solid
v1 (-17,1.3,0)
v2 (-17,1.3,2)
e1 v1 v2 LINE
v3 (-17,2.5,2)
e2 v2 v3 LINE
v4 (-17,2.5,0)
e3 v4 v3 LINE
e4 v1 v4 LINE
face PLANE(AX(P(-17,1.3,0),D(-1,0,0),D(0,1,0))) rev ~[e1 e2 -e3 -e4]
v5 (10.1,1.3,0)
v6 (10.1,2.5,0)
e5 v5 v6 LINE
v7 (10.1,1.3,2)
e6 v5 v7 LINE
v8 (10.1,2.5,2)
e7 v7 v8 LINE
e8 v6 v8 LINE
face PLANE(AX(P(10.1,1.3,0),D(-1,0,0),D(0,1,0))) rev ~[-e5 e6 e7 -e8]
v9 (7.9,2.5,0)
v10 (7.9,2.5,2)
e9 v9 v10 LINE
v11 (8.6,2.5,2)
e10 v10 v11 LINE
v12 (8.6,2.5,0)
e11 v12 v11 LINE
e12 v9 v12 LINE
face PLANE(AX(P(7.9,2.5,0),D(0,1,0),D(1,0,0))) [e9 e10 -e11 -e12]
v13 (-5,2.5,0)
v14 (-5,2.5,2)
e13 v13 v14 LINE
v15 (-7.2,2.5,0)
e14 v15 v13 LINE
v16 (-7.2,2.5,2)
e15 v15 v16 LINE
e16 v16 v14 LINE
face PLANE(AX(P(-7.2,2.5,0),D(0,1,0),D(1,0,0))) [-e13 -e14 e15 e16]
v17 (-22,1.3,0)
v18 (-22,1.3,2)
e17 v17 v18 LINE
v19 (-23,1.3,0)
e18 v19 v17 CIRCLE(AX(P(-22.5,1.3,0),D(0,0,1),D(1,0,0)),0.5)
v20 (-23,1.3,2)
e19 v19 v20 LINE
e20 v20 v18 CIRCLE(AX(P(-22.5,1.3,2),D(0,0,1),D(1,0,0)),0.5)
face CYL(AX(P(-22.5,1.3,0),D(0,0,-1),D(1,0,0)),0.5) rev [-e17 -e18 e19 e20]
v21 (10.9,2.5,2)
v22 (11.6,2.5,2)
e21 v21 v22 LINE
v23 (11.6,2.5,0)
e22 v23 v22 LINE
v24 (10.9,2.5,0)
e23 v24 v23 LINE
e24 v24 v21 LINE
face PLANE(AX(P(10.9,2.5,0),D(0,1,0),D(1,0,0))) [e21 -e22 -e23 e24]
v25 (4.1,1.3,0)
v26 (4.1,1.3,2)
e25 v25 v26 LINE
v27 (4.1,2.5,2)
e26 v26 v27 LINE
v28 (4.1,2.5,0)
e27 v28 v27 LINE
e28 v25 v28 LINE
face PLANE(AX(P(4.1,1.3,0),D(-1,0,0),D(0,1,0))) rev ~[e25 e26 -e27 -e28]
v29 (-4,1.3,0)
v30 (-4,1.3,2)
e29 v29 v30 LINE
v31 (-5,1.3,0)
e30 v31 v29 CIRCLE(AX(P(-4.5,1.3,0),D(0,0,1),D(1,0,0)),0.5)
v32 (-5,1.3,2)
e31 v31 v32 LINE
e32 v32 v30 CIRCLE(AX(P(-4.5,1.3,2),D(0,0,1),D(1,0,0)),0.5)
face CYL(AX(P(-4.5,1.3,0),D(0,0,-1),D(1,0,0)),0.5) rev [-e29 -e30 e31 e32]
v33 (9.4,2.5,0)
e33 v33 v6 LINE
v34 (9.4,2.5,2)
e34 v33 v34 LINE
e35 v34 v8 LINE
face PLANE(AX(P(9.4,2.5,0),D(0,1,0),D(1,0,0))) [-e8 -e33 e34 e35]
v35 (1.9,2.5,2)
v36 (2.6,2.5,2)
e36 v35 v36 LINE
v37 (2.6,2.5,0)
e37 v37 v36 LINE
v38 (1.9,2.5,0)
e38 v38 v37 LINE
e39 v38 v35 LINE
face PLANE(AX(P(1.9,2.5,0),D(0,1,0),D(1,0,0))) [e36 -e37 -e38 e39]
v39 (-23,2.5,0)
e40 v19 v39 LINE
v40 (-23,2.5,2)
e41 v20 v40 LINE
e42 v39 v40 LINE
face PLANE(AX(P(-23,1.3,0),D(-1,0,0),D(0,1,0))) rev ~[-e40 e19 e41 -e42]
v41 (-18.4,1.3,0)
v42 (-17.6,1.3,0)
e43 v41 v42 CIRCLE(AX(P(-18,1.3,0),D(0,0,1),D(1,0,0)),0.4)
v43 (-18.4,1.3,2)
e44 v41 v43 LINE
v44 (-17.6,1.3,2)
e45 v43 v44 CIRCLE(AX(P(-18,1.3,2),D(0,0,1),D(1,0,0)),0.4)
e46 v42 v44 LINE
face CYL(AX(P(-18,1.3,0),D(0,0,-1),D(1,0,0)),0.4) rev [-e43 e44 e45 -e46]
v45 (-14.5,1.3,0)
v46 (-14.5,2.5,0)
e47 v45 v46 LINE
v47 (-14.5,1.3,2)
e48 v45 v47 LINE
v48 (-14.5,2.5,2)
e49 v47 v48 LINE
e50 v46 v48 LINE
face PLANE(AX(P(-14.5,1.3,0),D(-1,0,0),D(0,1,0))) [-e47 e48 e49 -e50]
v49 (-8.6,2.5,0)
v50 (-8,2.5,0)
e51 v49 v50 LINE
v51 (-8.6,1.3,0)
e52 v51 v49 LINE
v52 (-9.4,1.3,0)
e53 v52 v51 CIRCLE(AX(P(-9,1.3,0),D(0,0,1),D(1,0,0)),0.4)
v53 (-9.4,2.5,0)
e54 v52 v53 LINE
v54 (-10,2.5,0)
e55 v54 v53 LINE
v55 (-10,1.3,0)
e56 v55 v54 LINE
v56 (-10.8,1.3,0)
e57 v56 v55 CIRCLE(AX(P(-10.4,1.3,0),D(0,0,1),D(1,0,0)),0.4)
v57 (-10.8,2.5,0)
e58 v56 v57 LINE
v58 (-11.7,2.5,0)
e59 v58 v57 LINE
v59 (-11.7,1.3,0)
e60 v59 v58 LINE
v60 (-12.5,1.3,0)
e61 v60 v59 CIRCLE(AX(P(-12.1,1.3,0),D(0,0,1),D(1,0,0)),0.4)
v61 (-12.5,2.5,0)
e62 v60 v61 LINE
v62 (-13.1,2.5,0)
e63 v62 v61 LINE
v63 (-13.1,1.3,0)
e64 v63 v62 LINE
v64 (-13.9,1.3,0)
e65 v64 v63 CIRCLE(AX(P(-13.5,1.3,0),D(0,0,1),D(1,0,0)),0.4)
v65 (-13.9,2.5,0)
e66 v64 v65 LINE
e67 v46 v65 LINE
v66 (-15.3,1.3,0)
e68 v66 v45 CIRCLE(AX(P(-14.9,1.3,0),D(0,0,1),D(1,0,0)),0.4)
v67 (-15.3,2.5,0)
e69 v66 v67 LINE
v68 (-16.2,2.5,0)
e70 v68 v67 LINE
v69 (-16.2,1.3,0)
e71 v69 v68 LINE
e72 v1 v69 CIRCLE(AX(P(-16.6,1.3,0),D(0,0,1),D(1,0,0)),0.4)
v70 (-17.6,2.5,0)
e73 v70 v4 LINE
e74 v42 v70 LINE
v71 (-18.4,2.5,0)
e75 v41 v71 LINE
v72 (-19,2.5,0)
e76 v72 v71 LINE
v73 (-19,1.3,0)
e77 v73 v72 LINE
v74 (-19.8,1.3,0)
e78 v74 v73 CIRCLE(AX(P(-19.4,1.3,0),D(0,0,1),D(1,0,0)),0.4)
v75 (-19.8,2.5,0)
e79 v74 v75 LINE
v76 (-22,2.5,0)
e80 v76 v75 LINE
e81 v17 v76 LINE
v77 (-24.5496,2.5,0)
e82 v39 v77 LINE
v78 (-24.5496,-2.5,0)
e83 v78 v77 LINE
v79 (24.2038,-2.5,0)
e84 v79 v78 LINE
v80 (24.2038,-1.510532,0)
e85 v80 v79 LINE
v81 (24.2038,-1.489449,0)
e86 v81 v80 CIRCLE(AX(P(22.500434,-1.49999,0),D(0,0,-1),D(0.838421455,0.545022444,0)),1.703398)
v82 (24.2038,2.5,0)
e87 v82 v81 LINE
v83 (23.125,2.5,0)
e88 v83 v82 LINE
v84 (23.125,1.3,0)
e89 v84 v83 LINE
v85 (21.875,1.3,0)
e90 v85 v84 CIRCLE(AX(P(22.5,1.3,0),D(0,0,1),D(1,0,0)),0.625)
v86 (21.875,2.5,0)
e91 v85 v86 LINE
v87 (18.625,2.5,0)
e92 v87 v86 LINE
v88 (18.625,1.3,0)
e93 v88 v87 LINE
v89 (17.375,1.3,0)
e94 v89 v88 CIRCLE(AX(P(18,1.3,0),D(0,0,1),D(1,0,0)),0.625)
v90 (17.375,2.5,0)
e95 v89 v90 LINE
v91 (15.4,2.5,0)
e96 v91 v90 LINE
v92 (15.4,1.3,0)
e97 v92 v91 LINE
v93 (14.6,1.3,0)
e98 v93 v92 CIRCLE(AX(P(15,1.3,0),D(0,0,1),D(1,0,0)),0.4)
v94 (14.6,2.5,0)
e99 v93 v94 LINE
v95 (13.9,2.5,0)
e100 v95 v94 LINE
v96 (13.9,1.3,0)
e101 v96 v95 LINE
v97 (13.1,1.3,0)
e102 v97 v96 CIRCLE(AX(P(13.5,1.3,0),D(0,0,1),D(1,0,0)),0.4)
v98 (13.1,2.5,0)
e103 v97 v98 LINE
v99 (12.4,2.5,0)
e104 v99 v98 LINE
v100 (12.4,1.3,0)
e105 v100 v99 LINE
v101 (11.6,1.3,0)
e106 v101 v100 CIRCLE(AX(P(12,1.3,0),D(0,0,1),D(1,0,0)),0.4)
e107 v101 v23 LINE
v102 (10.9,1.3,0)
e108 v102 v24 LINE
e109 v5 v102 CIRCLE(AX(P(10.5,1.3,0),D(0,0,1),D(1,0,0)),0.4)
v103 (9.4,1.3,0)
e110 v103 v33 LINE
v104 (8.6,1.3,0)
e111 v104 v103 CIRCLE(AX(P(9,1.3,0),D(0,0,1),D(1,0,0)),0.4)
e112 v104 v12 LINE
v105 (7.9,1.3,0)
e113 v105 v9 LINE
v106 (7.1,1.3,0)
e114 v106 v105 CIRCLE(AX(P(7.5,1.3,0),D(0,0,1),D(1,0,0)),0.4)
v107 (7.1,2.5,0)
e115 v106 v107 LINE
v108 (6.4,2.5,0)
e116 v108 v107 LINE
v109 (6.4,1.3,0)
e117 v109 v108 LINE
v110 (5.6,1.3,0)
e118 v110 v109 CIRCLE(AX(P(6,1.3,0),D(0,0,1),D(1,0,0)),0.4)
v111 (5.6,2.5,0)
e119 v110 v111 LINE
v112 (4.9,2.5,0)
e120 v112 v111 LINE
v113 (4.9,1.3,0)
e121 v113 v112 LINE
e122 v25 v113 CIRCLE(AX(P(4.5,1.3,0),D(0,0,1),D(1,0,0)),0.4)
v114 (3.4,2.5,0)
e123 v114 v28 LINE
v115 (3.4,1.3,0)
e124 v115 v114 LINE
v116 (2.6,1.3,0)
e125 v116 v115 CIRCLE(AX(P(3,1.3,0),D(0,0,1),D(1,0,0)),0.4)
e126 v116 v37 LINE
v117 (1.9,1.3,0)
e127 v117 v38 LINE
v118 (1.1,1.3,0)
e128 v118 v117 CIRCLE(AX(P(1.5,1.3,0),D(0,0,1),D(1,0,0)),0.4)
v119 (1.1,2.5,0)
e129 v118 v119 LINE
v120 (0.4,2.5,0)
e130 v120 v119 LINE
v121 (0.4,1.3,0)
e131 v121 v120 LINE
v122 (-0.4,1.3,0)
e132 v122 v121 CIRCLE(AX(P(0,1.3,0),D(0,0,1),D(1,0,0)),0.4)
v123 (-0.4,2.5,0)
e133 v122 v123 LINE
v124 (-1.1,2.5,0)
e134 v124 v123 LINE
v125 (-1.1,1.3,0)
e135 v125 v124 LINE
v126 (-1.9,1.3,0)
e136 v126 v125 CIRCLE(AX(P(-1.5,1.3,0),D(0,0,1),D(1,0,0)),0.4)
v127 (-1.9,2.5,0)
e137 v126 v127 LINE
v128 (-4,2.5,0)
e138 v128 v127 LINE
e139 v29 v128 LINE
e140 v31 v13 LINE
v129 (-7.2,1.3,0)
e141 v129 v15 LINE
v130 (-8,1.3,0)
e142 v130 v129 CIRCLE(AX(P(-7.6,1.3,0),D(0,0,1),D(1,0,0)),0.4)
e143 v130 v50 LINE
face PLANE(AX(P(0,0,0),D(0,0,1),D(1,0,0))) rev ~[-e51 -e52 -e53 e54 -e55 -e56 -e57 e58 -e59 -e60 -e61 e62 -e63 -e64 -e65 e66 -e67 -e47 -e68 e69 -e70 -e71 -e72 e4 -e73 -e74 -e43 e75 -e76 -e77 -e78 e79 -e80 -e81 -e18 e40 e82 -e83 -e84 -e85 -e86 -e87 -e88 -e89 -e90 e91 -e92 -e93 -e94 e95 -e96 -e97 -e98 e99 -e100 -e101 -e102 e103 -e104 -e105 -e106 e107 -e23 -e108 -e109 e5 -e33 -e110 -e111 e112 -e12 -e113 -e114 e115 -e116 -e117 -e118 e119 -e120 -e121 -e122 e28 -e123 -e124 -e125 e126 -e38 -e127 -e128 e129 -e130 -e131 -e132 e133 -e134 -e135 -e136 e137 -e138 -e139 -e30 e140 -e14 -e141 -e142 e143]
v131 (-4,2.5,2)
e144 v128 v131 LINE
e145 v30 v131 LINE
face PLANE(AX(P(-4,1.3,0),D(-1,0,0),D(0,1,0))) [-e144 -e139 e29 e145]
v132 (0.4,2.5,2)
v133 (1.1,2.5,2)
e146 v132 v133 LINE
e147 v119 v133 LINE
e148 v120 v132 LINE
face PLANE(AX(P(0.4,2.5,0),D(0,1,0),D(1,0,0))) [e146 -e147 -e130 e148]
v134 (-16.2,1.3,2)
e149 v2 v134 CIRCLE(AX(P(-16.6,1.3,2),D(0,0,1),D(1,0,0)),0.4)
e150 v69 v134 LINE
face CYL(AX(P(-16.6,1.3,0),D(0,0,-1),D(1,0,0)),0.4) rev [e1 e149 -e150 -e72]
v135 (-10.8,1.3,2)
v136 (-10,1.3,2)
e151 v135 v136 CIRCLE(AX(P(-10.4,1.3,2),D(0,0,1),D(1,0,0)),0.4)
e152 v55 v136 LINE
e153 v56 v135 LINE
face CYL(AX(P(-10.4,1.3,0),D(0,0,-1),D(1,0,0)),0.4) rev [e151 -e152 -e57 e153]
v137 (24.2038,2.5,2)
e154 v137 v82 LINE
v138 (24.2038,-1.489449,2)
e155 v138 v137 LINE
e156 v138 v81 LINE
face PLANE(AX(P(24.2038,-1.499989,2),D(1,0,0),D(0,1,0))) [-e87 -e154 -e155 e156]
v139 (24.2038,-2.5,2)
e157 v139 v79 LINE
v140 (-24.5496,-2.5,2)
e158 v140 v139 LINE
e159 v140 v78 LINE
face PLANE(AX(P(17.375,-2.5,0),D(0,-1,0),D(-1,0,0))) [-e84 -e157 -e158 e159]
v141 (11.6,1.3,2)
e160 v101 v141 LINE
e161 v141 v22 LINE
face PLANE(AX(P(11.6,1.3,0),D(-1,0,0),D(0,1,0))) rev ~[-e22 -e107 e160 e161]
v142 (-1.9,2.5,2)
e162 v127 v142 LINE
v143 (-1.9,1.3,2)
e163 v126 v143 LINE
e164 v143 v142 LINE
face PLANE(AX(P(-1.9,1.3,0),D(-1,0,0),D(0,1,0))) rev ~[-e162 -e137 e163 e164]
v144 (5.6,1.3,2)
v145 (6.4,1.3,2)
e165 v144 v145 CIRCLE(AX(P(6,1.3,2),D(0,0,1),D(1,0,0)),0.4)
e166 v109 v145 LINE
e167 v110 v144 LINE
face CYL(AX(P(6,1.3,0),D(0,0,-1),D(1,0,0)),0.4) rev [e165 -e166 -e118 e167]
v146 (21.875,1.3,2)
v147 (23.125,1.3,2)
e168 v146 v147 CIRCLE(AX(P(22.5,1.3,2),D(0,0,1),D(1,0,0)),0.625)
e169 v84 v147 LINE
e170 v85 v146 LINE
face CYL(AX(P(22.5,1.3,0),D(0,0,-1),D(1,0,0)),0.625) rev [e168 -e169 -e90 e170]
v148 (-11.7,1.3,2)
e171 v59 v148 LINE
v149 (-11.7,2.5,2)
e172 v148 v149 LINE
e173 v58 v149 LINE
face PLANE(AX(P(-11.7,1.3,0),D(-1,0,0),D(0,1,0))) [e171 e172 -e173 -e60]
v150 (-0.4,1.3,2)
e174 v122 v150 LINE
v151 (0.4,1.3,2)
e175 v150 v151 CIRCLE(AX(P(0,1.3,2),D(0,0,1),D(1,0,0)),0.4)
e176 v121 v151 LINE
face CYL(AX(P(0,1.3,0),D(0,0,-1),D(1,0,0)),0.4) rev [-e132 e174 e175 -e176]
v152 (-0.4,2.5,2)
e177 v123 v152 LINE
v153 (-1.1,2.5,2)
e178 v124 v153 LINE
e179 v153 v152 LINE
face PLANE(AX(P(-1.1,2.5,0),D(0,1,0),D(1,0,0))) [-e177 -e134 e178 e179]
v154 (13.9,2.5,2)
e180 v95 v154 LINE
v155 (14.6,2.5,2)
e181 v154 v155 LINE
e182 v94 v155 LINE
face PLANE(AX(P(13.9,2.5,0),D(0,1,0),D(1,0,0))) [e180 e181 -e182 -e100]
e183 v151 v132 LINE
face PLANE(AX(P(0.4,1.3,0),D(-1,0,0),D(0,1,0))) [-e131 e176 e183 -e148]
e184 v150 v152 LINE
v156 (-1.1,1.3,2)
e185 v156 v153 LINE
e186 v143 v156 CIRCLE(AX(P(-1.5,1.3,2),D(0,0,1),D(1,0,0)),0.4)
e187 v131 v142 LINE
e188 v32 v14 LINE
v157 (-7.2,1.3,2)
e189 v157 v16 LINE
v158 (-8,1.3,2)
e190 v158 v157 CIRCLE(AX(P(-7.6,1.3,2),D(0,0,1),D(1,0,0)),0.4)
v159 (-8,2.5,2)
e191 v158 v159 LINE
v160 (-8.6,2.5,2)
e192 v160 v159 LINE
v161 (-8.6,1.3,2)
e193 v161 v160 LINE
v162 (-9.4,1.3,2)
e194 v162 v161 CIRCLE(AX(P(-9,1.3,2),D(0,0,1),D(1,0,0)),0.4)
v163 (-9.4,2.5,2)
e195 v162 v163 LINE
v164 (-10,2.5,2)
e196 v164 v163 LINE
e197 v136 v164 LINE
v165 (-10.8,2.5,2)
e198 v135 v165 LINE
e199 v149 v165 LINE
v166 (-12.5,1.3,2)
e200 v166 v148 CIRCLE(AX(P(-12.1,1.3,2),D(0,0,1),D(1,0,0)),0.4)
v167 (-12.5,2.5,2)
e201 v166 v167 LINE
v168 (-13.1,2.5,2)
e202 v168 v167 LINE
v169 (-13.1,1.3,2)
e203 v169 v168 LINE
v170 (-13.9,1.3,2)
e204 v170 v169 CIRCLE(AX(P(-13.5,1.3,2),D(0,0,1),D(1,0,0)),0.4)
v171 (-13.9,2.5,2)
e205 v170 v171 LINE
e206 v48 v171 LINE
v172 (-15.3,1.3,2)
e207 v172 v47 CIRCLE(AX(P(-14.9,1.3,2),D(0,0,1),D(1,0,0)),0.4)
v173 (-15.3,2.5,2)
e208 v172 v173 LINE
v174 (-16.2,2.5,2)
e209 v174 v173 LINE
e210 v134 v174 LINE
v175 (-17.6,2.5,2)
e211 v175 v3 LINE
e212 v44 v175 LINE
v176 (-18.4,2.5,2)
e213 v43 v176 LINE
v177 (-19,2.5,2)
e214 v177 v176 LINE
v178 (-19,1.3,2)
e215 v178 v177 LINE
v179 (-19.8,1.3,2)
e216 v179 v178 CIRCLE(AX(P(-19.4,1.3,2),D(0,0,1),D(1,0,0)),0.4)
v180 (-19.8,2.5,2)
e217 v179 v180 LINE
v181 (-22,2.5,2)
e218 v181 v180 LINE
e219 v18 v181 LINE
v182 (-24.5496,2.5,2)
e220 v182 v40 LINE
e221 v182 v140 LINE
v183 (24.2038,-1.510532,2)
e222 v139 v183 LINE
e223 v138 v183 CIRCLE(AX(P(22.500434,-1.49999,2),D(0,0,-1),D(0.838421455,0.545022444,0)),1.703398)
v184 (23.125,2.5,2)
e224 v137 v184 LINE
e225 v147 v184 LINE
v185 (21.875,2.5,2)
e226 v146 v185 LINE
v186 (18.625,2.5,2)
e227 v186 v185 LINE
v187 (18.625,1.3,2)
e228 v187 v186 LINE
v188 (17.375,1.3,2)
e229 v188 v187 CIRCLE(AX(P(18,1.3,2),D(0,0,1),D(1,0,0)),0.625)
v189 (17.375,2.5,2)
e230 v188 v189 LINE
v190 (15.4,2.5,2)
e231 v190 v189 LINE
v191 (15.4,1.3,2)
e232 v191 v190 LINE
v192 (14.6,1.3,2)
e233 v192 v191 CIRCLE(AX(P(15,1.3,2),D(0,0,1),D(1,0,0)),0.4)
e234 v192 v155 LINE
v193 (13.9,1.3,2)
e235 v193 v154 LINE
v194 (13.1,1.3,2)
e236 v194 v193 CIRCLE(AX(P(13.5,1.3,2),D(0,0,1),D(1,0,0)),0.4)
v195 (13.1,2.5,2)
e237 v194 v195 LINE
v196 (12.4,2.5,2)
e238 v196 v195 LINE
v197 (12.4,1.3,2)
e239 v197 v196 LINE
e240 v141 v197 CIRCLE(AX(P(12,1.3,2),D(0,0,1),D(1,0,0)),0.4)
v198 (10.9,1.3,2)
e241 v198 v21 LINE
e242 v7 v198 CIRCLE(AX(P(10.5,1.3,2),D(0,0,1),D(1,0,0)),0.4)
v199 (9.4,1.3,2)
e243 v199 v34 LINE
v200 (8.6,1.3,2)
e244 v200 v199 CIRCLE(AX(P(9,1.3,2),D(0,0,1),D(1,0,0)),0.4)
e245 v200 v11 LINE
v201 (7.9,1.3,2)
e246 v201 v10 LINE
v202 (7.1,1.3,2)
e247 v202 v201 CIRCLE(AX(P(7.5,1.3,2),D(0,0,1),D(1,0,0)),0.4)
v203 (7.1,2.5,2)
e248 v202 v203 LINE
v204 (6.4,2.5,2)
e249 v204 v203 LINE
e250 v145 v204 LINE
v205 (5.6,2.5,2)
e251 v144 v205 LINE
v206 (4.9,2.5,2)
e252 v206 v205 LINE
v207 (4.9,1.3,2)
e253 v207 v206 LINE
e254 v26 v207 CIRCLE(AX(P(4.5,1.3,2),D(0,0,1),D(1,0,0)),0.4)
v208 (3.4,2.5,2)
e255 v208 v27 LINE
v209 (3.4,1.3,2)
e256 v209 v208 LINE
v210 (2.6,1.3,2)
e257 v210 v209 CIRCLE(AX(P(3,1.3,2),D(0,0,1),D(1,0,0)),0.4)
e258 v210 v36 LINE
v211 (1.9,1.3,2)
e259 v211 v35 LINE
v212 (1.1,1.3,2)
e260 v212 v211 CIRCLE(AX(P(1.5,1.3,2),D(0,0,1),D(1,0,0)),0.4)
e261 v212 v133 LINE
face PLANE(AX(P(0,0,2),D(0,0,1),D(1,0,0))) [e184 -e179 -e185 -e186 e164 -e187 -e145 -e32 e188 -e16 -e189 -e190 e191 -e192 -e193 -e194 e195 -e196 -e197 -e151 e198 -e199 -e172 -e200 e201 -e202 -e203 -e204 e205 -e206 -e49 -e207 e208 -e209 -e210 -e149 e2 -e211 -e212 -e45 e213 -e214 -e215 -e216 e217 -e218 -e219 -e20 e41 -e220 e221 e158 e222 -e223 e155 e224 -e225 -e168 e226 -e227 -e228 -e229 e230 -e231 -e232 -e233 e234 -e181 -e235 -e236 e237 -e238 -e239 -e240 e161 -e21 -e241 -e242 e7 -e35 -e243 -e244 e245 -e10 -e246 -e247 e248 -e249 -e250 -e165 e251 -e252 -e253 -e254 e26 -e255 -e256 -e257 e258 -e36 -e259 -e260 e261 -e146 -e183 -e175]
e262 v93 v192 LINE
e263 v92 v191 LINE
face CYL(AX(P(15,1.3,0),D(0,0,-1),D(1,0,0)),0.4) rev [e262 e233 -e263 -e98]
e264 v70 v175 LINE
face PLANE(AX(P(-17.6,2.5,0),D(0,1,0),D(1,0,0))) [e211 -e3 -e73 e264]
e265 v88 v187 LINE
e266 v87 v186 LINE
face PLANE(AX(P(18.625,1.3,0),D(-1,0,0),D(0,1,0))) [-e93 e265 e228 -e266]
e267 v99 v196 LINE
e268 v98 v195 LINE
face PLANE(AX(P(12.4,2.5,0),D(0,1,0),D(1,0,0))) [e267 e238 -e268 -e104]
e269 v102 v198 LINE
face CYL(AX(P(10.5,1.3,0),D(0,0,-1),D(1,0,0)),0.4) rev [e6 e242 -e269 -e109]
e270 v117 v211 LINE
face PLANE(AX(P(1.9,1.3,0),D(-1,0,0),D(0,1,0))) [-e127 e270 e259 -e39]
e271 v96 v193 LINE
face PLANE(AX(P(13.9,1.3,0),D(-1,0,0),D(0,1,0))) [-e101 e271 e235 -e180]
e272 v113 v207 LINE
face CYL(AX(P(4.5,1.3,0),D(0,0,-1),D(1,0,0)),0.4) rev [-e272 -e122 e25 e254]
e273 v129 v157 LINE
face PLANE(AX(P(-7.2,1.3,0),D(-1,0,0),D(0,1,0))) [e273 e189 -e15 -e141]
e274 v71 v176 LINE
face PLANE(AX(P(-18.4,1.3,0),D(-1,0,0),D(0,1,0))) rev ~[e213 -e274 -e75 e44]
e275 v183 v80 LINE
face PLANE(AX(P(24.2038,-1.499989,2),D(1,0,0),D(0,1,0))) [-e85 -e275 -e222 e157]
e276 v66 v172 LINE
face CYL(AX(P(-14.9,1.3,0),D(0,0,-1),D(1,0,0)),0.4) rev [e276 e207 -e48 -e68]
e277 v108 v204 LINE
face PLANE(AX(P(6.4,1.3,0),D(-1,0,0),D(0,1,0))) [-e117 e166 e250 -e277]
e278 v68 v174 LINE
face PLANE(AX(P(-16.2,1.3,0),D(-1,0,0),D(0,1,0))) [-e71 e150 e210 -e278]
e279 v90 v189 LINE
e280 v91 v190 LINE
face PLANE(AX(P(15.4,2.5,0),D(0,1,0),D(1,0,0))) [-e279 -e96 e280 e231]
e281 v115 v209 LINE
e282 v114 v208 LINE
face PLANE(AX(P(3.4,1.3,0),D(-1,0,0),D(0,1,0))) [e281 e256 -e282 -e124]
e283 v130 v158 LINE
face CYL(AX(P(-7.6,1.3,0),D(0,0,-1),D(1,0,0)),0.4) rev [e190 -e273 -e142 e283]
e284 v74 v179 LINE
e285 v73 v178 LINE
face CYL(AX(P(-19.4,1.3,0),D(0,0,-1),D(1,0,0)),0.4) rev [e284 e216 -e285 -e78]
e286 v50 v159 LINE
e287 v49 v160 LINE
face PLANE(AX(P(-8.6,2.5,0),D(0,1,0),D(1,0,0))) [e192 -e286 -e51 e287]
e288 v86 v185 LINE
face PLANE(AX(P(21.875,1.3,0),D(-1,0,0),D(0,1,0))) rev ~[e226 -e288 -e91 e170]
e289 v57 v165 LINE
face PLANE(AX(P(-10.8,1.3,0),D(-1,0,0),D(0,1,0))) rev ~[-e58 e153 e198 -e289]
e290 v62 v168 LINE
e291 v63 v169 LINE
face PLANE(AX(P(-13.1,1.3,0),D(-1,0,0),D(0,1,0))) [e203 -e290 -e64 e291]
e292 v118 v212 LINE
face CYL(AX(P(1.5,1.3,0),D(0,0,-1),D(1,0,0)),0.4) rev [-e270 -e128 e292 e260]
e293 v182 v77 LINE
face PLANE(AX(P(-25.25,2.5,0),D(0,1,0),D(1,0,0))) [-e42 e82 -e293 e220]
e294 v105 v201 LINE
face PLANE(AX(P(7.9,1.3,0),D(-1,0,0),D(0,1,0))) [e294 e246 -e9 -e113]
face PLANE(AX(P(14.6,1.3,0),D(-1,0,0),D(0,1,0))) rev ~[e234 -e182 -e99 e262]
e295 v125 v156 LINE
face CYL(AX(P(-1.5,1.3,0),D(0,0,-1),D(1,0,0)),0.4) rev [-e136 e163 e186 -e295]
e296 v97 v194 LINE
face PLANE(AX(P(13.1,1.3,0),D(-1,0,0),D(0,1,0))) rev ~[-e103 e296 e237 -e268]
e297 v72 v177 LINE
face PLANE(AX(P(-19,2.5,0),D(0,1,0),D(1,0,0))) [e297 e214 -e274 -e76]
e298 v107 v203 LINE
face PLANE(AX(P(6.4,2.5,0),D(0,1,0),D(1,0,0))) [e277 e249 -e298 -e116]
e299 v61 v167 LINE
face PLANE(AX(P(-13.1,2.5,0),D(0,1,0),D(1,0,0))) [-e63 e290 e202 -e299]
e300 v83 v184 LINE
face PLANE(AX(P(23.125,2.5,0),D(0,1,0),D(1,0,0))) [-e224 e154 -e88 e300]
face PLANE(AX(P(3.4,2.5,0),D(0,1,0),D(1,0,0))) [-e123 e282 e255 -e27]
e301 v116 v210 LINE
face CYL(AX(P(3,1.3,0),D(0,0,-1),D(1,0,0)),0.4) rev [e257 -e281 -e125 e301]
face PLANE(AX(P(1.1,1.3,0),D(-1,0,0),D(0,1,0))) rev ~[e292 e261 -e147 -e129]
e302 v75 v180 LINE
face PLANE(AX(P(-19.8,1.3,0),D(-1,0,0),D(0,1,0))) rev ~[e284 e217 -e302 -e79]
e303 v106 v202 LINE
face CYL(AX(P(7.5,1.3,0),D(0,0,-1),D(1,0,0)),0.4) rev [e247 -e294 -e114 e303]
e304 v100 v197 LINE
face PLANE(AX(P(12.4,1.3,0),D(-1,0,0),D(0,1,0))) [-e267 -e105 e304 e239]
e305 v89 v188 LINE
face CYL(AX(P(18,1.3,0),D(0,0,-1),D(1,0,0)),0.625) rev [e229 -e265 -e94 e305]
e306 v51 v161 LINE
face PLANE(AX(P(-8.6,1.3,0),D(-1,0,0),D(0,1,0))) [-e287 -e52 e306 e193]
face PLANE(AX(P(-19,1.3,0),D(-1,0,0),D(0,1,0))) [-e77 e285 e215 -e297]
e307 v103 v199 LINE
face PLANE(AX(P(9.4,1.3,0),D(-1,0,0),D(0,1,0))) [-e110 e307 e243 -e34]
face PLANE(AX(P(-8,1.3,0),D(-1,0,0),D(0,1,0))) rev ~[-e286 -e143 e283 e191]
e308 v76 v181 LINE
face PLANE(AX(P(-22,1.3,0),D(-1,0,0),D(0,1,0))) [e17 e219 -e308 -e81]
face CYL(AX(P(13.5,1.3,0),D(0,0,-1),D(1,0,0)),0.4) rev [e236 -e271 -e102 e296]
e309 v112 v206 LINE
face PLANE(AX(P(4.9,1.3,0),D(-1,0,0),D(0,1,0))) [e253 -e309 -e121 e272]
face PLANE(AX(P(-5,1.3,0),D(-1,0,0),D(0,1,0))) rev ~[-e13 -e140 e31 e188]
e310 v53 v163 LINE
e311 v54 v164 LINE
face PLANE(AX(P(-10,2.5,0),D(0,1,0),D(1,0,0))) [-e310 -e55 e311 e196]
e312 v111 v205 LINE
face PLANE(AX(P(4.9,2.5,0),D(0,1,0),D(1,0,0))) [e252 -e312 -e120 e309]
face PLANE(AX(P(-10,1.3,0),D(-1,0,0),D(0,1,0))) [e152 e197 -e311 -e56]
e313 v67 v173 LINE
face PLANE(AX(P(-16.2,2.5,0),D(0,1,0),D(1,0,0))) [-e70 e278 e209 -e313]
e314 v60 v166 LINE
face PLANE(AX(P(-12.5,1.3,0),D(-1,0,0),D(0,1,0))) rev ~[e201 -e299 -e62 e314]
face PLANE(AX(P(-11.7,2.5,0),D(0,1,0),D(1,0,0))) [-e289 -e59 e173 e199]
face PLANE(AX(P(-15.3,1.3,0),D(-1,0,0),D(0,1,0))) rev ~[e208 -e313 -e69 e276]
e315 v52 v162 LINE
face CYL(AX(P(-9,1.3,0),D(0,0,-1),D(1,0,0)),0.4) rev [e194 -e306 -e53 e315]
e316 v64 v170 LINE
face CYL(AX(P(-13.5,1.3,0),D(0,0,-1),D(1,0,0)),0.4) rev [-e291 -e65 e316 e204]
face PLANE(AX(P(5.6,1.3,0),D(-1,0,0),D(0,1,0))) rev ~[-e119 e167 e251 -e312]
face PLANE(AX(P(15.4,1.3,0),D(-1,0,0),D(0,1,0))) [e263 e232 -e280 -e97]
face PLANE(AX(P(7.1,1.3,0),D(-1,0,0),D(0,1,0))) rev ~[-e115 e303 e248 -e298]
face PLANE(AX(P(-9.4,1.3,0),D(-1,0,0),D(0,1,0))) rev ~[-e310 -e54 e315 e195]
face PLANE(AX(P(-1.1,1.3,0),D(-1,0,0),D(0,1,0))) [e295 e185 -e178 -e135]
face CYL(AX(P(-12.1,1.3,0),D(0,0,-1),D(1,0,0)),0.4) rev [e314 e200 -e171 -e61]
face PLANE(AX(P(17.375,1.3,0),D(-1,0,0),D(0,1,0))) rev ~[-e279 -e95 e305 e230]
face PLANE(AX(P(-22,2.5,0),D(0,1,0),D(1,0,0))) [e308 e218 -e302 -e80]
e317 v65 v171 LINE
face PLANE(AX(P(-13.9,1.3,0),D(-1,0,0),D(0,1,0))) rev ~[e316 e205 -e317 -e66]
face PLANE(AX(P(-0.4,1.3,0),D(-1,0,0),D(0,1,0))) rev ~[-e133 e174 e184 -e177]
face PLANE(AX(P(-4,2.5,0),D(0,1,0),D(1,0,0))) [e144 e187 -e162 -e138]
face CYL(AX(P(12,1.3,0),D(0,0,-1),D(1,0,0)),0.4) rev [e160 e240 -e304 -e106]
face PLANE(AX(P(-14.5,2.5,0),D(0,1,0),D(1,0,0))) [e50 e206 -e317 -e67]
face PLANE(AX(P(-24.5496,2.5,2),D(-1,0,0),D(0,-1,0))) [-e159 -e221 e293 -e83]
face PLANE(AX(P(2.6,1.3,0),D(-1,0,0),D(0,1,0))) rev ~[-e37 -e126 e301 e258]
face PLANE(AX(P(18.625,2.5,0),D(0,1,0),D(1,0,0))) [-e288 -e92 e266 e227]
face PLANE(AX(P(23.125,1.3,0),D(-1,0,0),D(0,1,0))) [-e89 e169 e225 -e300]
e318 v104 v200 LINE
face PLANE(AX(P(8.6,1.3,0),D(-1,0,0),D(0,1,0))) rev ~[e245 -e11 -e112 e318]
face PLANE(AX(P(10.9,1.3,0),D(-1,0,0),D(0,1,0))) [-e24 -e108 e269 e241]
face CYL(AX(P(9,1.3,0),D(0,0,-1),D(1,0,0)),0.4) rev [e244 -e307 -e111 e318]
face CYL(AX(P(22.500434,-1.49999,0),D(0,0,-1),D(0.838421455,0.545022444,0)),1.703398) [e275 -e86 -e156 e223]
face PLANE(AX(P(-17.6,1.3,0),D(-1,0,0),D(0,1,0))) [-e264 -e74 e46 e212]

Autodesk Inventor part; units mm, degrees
ref_plane "YZ Plane" through (0, 0, 0) normal (1, 0, 0) x (0, 1, 0)
ref_plane "XZ Plane" through (0, 0, 0) normal (0, 1, 0) x (-1, 0, 0)
sketch "Sketch1" plane through (0, 0, 0) normal (0, 0, 1) x (1, 0, 0)
  line L0 (-25.25, 2.5) -> (25.25, 2.5)
  line L1 (25.25, 2.5) -> (25.25, -2.5)
  line L2 (25.25, -2.5) -> (-25.25, -2.5)
  line L3 (-25.25, -2.5) -> (-25.25, 2.5)
  circle A0 centre (-22.5, 1.3) radius 0.5
  circle A1 centre (-19.4, 1.3) radius 0.4
  circle A2 centre (-10.4, 1.3) radius 0.4
  circle A3 centre (-18, 1.3) radius 0.4
  circle A4 centre (-13.5, 1.3) radius 0.4
  circle A5 centre (-16.6, 1.3) radius 0.4
  circle A6 centre (-14.9, 1.3) radius 0.4
  circle A7 centre (-12.1, 1.3) radius 0.4
  circle A8 centre (-7.6, 1.3) radius 0.4
  circle A9 centre (-9, 1.3) radius 0.4
  line L4 (0, 0) -> (0, 2.997) construction
  line L5 (0, 0) -> (1.9732, 0) construction
  circle A10 centre (-4.5, 1.3) radius 0.5
  circle A11 centre (-1.5, 1.3) radius 0.4
  circle A12 centre (0, 1.3) radius 0.4
  circle A13 centre (1.5, 1.3) radius 0.4
  circle A14 centre (3, 1.3) radius 0.4
  circle A15 centre (4.5, 1.3) radius 0.4
  circle A16 centre (6, 1.3) radius 0.4
  circle A17 centre (7.5, 1.3) radius 0.4
  circle A18 centre (9, 1.3) radius 0.4
  circle A19 centre (10.5, 1.3) radius 0.4
  circle A20 centre (12, 1.3) radius 0.4
  circle A21 centre (13.5, 1.3) radius 0.4
  circle A22 centre (15, 1.3) radius 0.4
  circle A23 centre (18, 1.3) radius 0.625
  circle A24 centre (22.5, 1.3) radius 0.625
  line L6 (-22, 1.3) -> (-22, 2.5)
  line L7 (-23, 1.3) -> (-23, 2.5)
  line L8 (-19, 1.3) -> (-19, 2.5)
  line L9 (-19.8, 1.3) -> (-19.8, 2.5)
  line L10 (-17.6, 1.3) -> (-17.6, 2.5)
  line L11 (-18.4, 1.3) -> (-18.4, 2.5)
  line L12 (-16.2, 1.3) -> (-16.2, 2.5)
  line L13 (-17, 1.3) -> (-17, 2.5)
  line L14 (-14.5, 1.3) -> (-14.5, 2.5)
  line L15 (-15.3, 1.3) -> (-15.3, 2.5)
  line L16 (-13.1, 1.3) -> (-13.1, 2.5)
  line L17 (-13.9, 1.3) -> (-13.9, 2.5)
  line L18 (-11.7, 1.3) -> (-11.7, 2.5)
  line L19 (-12.5, 1.3) -> (-12.5, 2.5)
  line L20 (-10, 1.3) -> (-10, 2.5)
  line L21 (-10.8, 1.3) -> (-10.8, 2.5)
  line L22 (-8.6, 1.3) -> (-8.6, 2.5)
  line L23 (-9.4, 1.3) -> (-9.4, 2.5)
  line L24 (-7.2, 1.3) -> (-7.2, 2.5)
  line L25 (-8, 1.3) -> (-8, 2.5)
  line L26 (-4, 1.3) -> (-4, 2.5)
  line L27 (-5, 1.3) -> (-5, 2.5)
  line L28 (-1.1, 1.3) -> (-1.1, 2.5)
  line L29 (-1.9, 1.3) -> (-1.9, 2.5)
  line L30 (0.4, 1.3) -> (0.4, 2.5)
  line L31 (-0.4, 1.3) -> (-0.4, 2.5)
  line L32 (1.9, 1.3) -> (1.9, 2.5)
  line L33 (1.1, 1.3) -> (1.1, 2.5)
  line L34 (2.6, 1.3) -> (2.6, 2.5)
  line L35 (3.4, 1.3) -> (3.4, 2.5)
  line L36 (4.1, 1.3) -> (4.1, 2.5)
  line L37 (4.9, 1.3) -> (4.9, 2.5)
  line L38 (5.6, 1.3) -> (5.6, 2.5)
  line L39 (6.4, 1.3) -> (6.4, 2.5)
  line L40 (7.1, 1.3) -> (7.1, 2.5)
  line L41 (7.9, 1.3) -> (7.9, 2.5)
  line L42 (8.6, 1.3) -> (8.6, 2.5)
  line L43 (9.4, 1.3) -> (9.4, 2.5)
  line L44 (10.1, 1.3) -> (10.1, 2.5)
  line L45 (10.9, 1.3) -> (10.9, 2.5)
  line L46 (11.6, 1.3) -> (11.6, 2.5)
  line L47 (12.4, 1.3) -> (12.4, 2.5)
  line L48 (13.1, 1.3) -> (13.1, 2.5)
  line L49 (13.9, 1.3) -> (13.9, 2.5)
  line L50 (14.6, 1.3) -> (14.6, 2.5)
  line L51 (15.4, 1.3) -> (15.4, 2.5)
  line L52 (17.375, 1.3) -> (17.375, 2.5)
  line L53 (18.625, 1.3) -> (18.625, 2.5)
  line L54 (23.125, 1.3) -> (23.125, 2.5)
  line L55 (21.875, 1.3) -> (21.875, 2.5)
  circle A25 centre (22.5, -1.3) radius 0.625
  circle A26 centre (18, -1.3) radius 0.625
  circle A27 centre (15, -1.3) radius 0.4
  circle A28 centre (13.5, -1.3) radius 0.4
  circle A29 centre (12, -1.3) radius 0.4
  circle A30 centre (10.5, -1.3) radius 0.4
  circle A31 centre (9, -1.3) radius 0.4
  circle A32 centre (7.5, -1.3) radius 0.4
  circle A33 centre (6, -1.3) radius 0.4
  circle A34 centre (4.5, -1.3) radius 0.4
  circle A35 centre (3, -1.3) radius 0.4
  circle A36 centre (1.5, -1.3) radius 0.4
  circle A37 centre (0, -1.3) radius 0.4
  circle A38 centre (-1.5, -1.3) radius 0.4
  circle A39 centre (-7.5, -1.3) radius 0.4
  circle A40 centre (-9, -1.3) radius 0.4
  circle A41 centre (-10.5, -1.3) radius 0.4
  circle A42 centre (-12.6, -1.3) radius 0.4
  circle A43 centre (-14.4, -1.3) radius 0.4
  circle A44 centre (-16.5, -1.3) radius 0.4
  circle A45 centre (-18, -1.3) radius 0.4
  circle A46 centre (-19.5, -1.3) radius 0.4
  circle A47 centre (-21.6, -1.3) radius 0.4
  circle A48 centre (-23.4, -1.3) radius 0.4
  line L56 (23.125, -1.3) -> (23.125, -2.5)
  line L57 (21.875, -1.3) -> (21.875, -2.5)
  line L58 (18.625, -1.3) -> (18.625, -2.5)
  line L59 (17.375, -1.3) -> (17.375, -2.5)
  line L60 (15.4, -1.3) -> (15.4, -2.5)
  line L61 (14.6, -1.3) -> (14.6, -2.5)
  line L62 (13.9, -1.3) -> (13.9, -2.5)
  line L63 (13.1, -1.3) -> (13.1, -2.5)
  line L64 (12.4, -1.3) -> (12.4, -2.5)
  line L65 (11.6, -1.3) -> (11.6, -2.5)
  line L66 (10.9, -1.3) -> (10.9, -2.5)
  line L67 (10.1, -1.3) -> (10.1, -2.5)
  line L68 (9.4, -1.3) -> (9.4, -2.5)
  line L69 (8.6, -1.3) -> (8.6, -2.5)
  line L70 (7.9, -1.3) -> (7.9, -2.5)
  line L71 (7.1, -1.3) -> (7.1, -2.5)
  line L72 (6.4, -1.3) -> (6.4, -2.5)
  line L73 (5.6, -1.3) -> (5.6, -2.5)
  line L74 (4.9, -1.3) -> (4.9, -2.5)
  line L75 (4.1, -1.3) -> (4.1, -2.5)
  line L76 (3.4, -1.3) -> (3.4, -2.5)
  line L77 (2.6, -1.3) -> (2.6, -2.5)
  line L78 (1.9, -1.3) -> (1.9, -2.5)
  line L79 (1.1, -1.3) -> (1.1, -2.5)
  line L80 (0.4, -1.3) -> (0.4, -2.5)
  line L81 (-0.4, -1.3) -> (-0.4, -2.5)
  line L82 (-1.9, -1.3) -> (-1.9, -2.5)
  line L83 (-1.1, -1.3) -> (-1.1, -2.5)
  line L84 (-7.9, -1.3) -> (-7.9, -2.5)
  line L85 (-7.1, -1.3) -> (-7.1, -2.5)
  line L86 (-8.6, -1.3) -> (-8.6, -2.5)
  line L87 (-9.4, -1.3) -> (-9.4, -2.5)
  line L88 (-10.1, -1.3) -> (-10.1, -2.5)
  line L89 (-10.9, -1.3) -> (-10.9, -2.5)
  line L90 (-12.2, -1.3) -> (-12.2, -2.5)
  line L91 (-13, -1.3) -> (-13, -2.5)
  line L92 (-14, -1.3) -> (-14, -2.5)
  line L93 (-14.8, -1.3) -> (-14.8, -2.5)
  line L94 (-16.1, -1.3) -> (-16.1, -2.5)
  line L95 (-16.9, -1.3) -> (-16.9, -2.5)
  line L96 (-17.6, -1.3) -> (-17.6, -2.5)
  line L97 (-18.4, -1.3) -> (-18.4, -2.5)
  line L98 (-19.1, -1.3) -> (-19.1, -2.5)
  line L99 (-19.9, -1.3) -> (-19.9, -2.5)
  line L100 (-21.2, -1.3) -> (-21.2, -2.5)
  line L101 (-22, -1.3) -> (-22, -2.5)
  line L102 (-23, -1.3) -> (-23, -2.5)
  line L103 (-23.8, -1.3) -> (-23.8, -2.5)
  dimension "d0" = 50.5
  dimension "d1" = 5
  dimension "d3" = 1
  dimension "d4" = 2.75
  dimension "d5" = 0.8
  dimension "d6" = 0.8
  dimension "d7" = 0.8
  dimension "d8" = 0.8
  dimension "d9" = 0.8
  dimension "d10" = 0.8
  dimension "d11" = 0.8
  dimension "d12" = 0.8
  dimension "d13" = 0.8
  dimension "d14" = 3.1
  dimension "d15" = 1.4
  dimension "d16" = 1.4
  dimension "d17" = 1.4
  dimension "d18" = 1.4
  dimension "d19" = 1.7
  dimension "d20" = 1.4
  dimension "d21" = 1.4
  dimension "d22" = 1.7
  dimension "d23" = 1.2
  dimension "d24" = 1
  dimension "d25" = 3.1
  dimension "d26" = 0.8
  dimension "d27" = 0.8
  dimension "d28" = 0.8
  dimension "d29" = 0.8
  dimension "d30" = 0.8
  dimension "d31" = 0.8
  dimension "d32" = 0.8
  dimension "d33" = 0.8
  dimension "d34" = 0.8
  dimension "d35" = 0.8
  dimension "d36" = 0.8
  dimension "d37" = 0.8
  dimension "d38" = 3
  dimension "d39" = 1.5
  dimension "d40" = 1.5
  dimension "d41" = 1.5
  dimension "d42" = 1.5
  dimension "d43" = 1.5
  dimension "d44" = 1.5
  dimension "d45" = 1.5
  dimension "d46" = 1.5
  dimension "d47" = 1.5
  dimension "d48" = 1.5
  dimension "d49" = 1.5
  dimension "d50" = 1.25
  dimension "d51" = 1.25
  dimension "d52" = 3
  dimension "d53" = 4.5
  dimension "d121" = 1.25
  dimension "d122" = 1.25
  dimension "d125" = 0.8
  dimension "d126" = 0.8
  dimension "d127" = 0.8
  dimension "d128" = 0.8
  dimension "d129" = 0.8
  dimension "d130" = 0.8
  dimension "d131" = 0.8
  dimension "d132" = 0.8
  dimension "d133" = 0.8
extrude "Extrusion1" add sketch "Sketch1" along normal blind 2 contours L0 L7 A0 L6 L9 A1 L8 L11 A3 L10 L13 A5 L12 L15 A6 L14 L17 A4 L16 L19 A7 L18 L21 A2 L20 L23 A9 L22 L25 A8 L24 L27 A10 L26 L29 A11 L28 L31 A12 L30 L33 A13 L32 L34 A14 L35 L36 A15 L37 L38 A16 L39 L40 A17 L41 L42 A18 L43 L44 A19 L45 L46 A20 L47 L48 A21 L49 L50 A22 L51 L52 A23 L53 L55 A24 L54 L1 L2 L56 A25 L57 L58 A26 L59 L60 A27 L61 L62 A28 L63 L64 A29 L65 L66 A30 L67 L68 A31 L69 L70 A32 L71 L72 A33 L73 L74 A34 L75 L76 A35 L77 L78 A36 L79 L80 A37 L81 L83 A38 L82 L85 A39 L84 L86 A40 L87 L88 A41 L89 L90 A42 L91 L92 A43 L93 L94 A44 L95 L96 A45 L97 L98 A46 L99 L100 A47 L101 L102 A48 L103 L3
ref_plane "Work Plane1" through (-26.5, -2, 0) normal (-1, 0, 0) x (0, 0, 1)
sketch "Sketch12" plane through (0, 0, 0) normal (0, 0, -1) x (-1, 0, 0)
  arc A0 (-24.0126, -0.5173) -> (-23.9919, 1.0846) centre (-25.2704, 0.3) ccw projected
  arc A1 (-24.2504, 2) -> (-23.9919, 1.0846) centre (-22.5004, 2) ccw projected
  arc A2 (-24.0126, -0.5173) -> (-24.2331, -2) centre (-22.5004, -1.5) ccw projected
  line L0 (-24.2331, -2) -> (-25.0004, -2) projected
  line L1 (-25.0004, 2) -> (-24.2504, 2) projected
  line L2 (-25.0004, -2.1) -> (-24.0947, -2.1)
  arc A3 (-23.9286, -0.5716) -> (-23.8794, -2.5) centre (-22.5004, -1.5) ccw
  arc A4 (-23.9286, -0.5716) -> (-23.9067, 1.1369) centre (-25.2704, 0.3) ccw
  arc A5 (-24.1474, 2.1) -> (-23.9067, 1.1369) centre (-22.5004, 2) ccw
  line L3 (-24.1474, 2.1) -> (-25, 2.1)
  line L4 (-24.1474, 2.1) -> (-24.1474, 2.5)
  line L5 (-25.25, 2.5) -> (-23.125, 2.5) projected
  line L6 (-24.1474, 2.5) -> (-25.25, 2.5)
  line L7 (-23.125, -2.5) -> (-25.25, -2.5) projected
  line L8 (-25.25, 2.5) -> (-25.25, -2.5)
  line L9 (-25.25, -2.5) -> (-24.0947, -2.5)
  line L10 (-24.0947, -2.1) -> (-24.0947, -2.5)
  point P0 (0, 0)
  dimension "d188" = 0.1
extrude "Extrusion12" cut sketch "Sketch12" against normal blind 10
sketch "Sketch13" plane through (0, 0, 0) normal (0, 0, -1) x (-1, 0, 0)
  arc A0 (24.3834, 0.9639) -> (24.3834, -0.9639) centre (26.1358, 0) ccw projected
  arc A1 (24.3834, 0.9639) -> (24.6496, 2) centre (22.4996, 2) ccw projected
  arc A2 (24.6496, -2) -> (24.3834, -0.9639) centre (22.4996, -2) ccw projected
  line L0 (24.6496, -2) -> (25, -2) projected
  line L1 (24.9996, 2) -> (24.6496, 2) projected
  line L2 (24.6496, 2) -> (24.6496, 2.5)
  line L3 (23, 2.5) -> (25.25, 2.5) projected
  line L4 (24.6496, -2) -> (24.6496, -2.5)
  line L5 (25.25, -2.5) -> (23.8, -2.5) projected
  line L6 (24.6496, -2.5) -> (25.25, -2.5)
  line L7 (25.25, -2.5) -> (25.25, 2.5)
  line L8 (25.25, 2.5) -> (25.25, -2.5) projected
  line L9 (25.25, 2.5) -> (24.6496, 2.5)
  line L10 (25, -2.1) -> (24.5471, -2.1)
  arc A3 (24.5471, -2.1) -> (24.2958, -1.012) centre (22.4996, -2) ccw
  arc A4 (24.2958, 1.012) -> (24.2958, -1.012) centre (26.1358, 0) ccw
  arc A5 (24.2958, 1.012) -> (24.5471, 2.1) centre (22.4996, 2) ccw
  line L11 (24.5471, 2.1) -> (25, 2.1)
  line L12 (24.55, -2.6) -> (25.35, -2.6)
  line L13 (25.35, -2.6) -> (25.35, 2.6)
  line L14 (25.35, 2.6) -> (24.55, 2.6)
  line L15 (24.5471, -2.5) -> (24.6496, -2.5)
  line L16 (24.6496, 2.5) -> (24.5471, 2.5)
  line L17 (24.5471, 2.1) -> (24.5471, 2.5)
  line L18 (24.5471, 2.5) -> (24.6496, 2.5)
  line L19 (24.5471, -2.1) -> (24.5471, -2.5)
  line L20 (24.5471, -2.5) -> (24.6496, -2.5)
  point P0 (0, 0)
  dimension "d193" = 0.1
extrude "Extrusion13" cut sketch "Sketch13" against normal blind 10
sketch "Sketch14" plane through (0, 0, 0) normal (0, 0, -1) x (-1, 0, 0)
  arc A0 (6.3296, -2) -> (4.9596, -2) centre (5.6446, -2) ccw projected
  arc A1 (4.9596, -2) -> (6.3296, -2) centre (5.6446, -2) ccw projected
  arc A2 (4.0396, -2) -> (2.6696, -2) centre (3.3546, -2) ccw projected
  arc A3 (2.6696, -2) -> (4.0396, -2) centre (3.3546, -2) ccw projected
  arc A4 (4.1396, -2) -> (2.5696, -2) centre (3.3546, -2) ccw
  arc A5 (2.5696, -2) -> (4.1396, -2) centre (3.3546, -2) ccw
  arc A6 (6.4296, -2) -> (4.8596, -2) centre (5.6446, -2) ccw
  arc A7 (4.8596, -2) -> (6.4296, -2) centre (5.6446, -2) ccw
  point P0 (0, 0)
  dimension "d195" = 0.1
  dimension "d196" = 0.1
extrude "Extrusion14" cut sketch "Sketch14" against normal blind 10 contours A1 A0 | A3 A2 | A5 A4 | A7 A6
sketch "Sketch15" plane through (0, 0, 2) normal (0, 0, 1) x (1, 0, 0)
  line L0 (-23.8, -0.675) -> (23.125, -0.675)
  line L1 (23.125, -0.675) -> (23.125, -2.5)
  line L2 (23.125, -2.5) -> (-23.8, -2.5)
  line L3 (-23.8, -2.5) -> (-23.8, -0.675)
  line L4 (-23.8, -2.5) -> (-23.8, -1.3) projected
  line L5 (23.125, -1.3) -> (23.125, -2.5) projected
  line L6 (18.625, -2.5) -> (21.875, -2.5) projected
  arc A0 (23.125, -1.3) -> (21.875, -1.3) centre (22.5, -1.3) ccw projected
  line L7 (-24.5471, -2.5) -> (-23.8, -2.5) projected
  line L8 (-24.5496, 2.5) -> (-23.8, 2.5)
  line L9 (-23.8, 2.5) -> (-23.8, -2.5)
  line L10 (-23.8, -2.5) -> (-24.5496, -2.5)
  line L11 (24.2038, 2.5) -> (23.125, 2.5)
  line L12 (23.125, 2.5) -> (23.125, -2.5)
  line L13 (23.125, -2.5) -> (24.2038, -2.5)
  arc A1 (23.8794, -2.5) -> (23.9286, -0.5716) centre (22.5004, -1.5) ccw projected
  line L14 (-24.5496, 2.5117) -> (-24.5496, -2.5071)
  arc A2 (-24.2958, -1.012) -> (-24.5471, -2.1) centre (-22.4996, -2) ccw projected
  line L15 (24.2038, -2.5071) -> (24.2038, 2.5117)
  point P0 (0, 0)
  point P1 (-23.8, -1.9)
  point P2 (23.125, -1.9)
  point P3 (20.25, -2.5)
  point P4 (22.5, -0.675)
  point P5 (24.1474, 2.5)
extrude "Extrusion15" add sketch "Sketch15" against normal up to surface (2 mm away)
properties part number "3d_LM-Welding_Tooling - Top Comb" material "Steel, Carbon"
